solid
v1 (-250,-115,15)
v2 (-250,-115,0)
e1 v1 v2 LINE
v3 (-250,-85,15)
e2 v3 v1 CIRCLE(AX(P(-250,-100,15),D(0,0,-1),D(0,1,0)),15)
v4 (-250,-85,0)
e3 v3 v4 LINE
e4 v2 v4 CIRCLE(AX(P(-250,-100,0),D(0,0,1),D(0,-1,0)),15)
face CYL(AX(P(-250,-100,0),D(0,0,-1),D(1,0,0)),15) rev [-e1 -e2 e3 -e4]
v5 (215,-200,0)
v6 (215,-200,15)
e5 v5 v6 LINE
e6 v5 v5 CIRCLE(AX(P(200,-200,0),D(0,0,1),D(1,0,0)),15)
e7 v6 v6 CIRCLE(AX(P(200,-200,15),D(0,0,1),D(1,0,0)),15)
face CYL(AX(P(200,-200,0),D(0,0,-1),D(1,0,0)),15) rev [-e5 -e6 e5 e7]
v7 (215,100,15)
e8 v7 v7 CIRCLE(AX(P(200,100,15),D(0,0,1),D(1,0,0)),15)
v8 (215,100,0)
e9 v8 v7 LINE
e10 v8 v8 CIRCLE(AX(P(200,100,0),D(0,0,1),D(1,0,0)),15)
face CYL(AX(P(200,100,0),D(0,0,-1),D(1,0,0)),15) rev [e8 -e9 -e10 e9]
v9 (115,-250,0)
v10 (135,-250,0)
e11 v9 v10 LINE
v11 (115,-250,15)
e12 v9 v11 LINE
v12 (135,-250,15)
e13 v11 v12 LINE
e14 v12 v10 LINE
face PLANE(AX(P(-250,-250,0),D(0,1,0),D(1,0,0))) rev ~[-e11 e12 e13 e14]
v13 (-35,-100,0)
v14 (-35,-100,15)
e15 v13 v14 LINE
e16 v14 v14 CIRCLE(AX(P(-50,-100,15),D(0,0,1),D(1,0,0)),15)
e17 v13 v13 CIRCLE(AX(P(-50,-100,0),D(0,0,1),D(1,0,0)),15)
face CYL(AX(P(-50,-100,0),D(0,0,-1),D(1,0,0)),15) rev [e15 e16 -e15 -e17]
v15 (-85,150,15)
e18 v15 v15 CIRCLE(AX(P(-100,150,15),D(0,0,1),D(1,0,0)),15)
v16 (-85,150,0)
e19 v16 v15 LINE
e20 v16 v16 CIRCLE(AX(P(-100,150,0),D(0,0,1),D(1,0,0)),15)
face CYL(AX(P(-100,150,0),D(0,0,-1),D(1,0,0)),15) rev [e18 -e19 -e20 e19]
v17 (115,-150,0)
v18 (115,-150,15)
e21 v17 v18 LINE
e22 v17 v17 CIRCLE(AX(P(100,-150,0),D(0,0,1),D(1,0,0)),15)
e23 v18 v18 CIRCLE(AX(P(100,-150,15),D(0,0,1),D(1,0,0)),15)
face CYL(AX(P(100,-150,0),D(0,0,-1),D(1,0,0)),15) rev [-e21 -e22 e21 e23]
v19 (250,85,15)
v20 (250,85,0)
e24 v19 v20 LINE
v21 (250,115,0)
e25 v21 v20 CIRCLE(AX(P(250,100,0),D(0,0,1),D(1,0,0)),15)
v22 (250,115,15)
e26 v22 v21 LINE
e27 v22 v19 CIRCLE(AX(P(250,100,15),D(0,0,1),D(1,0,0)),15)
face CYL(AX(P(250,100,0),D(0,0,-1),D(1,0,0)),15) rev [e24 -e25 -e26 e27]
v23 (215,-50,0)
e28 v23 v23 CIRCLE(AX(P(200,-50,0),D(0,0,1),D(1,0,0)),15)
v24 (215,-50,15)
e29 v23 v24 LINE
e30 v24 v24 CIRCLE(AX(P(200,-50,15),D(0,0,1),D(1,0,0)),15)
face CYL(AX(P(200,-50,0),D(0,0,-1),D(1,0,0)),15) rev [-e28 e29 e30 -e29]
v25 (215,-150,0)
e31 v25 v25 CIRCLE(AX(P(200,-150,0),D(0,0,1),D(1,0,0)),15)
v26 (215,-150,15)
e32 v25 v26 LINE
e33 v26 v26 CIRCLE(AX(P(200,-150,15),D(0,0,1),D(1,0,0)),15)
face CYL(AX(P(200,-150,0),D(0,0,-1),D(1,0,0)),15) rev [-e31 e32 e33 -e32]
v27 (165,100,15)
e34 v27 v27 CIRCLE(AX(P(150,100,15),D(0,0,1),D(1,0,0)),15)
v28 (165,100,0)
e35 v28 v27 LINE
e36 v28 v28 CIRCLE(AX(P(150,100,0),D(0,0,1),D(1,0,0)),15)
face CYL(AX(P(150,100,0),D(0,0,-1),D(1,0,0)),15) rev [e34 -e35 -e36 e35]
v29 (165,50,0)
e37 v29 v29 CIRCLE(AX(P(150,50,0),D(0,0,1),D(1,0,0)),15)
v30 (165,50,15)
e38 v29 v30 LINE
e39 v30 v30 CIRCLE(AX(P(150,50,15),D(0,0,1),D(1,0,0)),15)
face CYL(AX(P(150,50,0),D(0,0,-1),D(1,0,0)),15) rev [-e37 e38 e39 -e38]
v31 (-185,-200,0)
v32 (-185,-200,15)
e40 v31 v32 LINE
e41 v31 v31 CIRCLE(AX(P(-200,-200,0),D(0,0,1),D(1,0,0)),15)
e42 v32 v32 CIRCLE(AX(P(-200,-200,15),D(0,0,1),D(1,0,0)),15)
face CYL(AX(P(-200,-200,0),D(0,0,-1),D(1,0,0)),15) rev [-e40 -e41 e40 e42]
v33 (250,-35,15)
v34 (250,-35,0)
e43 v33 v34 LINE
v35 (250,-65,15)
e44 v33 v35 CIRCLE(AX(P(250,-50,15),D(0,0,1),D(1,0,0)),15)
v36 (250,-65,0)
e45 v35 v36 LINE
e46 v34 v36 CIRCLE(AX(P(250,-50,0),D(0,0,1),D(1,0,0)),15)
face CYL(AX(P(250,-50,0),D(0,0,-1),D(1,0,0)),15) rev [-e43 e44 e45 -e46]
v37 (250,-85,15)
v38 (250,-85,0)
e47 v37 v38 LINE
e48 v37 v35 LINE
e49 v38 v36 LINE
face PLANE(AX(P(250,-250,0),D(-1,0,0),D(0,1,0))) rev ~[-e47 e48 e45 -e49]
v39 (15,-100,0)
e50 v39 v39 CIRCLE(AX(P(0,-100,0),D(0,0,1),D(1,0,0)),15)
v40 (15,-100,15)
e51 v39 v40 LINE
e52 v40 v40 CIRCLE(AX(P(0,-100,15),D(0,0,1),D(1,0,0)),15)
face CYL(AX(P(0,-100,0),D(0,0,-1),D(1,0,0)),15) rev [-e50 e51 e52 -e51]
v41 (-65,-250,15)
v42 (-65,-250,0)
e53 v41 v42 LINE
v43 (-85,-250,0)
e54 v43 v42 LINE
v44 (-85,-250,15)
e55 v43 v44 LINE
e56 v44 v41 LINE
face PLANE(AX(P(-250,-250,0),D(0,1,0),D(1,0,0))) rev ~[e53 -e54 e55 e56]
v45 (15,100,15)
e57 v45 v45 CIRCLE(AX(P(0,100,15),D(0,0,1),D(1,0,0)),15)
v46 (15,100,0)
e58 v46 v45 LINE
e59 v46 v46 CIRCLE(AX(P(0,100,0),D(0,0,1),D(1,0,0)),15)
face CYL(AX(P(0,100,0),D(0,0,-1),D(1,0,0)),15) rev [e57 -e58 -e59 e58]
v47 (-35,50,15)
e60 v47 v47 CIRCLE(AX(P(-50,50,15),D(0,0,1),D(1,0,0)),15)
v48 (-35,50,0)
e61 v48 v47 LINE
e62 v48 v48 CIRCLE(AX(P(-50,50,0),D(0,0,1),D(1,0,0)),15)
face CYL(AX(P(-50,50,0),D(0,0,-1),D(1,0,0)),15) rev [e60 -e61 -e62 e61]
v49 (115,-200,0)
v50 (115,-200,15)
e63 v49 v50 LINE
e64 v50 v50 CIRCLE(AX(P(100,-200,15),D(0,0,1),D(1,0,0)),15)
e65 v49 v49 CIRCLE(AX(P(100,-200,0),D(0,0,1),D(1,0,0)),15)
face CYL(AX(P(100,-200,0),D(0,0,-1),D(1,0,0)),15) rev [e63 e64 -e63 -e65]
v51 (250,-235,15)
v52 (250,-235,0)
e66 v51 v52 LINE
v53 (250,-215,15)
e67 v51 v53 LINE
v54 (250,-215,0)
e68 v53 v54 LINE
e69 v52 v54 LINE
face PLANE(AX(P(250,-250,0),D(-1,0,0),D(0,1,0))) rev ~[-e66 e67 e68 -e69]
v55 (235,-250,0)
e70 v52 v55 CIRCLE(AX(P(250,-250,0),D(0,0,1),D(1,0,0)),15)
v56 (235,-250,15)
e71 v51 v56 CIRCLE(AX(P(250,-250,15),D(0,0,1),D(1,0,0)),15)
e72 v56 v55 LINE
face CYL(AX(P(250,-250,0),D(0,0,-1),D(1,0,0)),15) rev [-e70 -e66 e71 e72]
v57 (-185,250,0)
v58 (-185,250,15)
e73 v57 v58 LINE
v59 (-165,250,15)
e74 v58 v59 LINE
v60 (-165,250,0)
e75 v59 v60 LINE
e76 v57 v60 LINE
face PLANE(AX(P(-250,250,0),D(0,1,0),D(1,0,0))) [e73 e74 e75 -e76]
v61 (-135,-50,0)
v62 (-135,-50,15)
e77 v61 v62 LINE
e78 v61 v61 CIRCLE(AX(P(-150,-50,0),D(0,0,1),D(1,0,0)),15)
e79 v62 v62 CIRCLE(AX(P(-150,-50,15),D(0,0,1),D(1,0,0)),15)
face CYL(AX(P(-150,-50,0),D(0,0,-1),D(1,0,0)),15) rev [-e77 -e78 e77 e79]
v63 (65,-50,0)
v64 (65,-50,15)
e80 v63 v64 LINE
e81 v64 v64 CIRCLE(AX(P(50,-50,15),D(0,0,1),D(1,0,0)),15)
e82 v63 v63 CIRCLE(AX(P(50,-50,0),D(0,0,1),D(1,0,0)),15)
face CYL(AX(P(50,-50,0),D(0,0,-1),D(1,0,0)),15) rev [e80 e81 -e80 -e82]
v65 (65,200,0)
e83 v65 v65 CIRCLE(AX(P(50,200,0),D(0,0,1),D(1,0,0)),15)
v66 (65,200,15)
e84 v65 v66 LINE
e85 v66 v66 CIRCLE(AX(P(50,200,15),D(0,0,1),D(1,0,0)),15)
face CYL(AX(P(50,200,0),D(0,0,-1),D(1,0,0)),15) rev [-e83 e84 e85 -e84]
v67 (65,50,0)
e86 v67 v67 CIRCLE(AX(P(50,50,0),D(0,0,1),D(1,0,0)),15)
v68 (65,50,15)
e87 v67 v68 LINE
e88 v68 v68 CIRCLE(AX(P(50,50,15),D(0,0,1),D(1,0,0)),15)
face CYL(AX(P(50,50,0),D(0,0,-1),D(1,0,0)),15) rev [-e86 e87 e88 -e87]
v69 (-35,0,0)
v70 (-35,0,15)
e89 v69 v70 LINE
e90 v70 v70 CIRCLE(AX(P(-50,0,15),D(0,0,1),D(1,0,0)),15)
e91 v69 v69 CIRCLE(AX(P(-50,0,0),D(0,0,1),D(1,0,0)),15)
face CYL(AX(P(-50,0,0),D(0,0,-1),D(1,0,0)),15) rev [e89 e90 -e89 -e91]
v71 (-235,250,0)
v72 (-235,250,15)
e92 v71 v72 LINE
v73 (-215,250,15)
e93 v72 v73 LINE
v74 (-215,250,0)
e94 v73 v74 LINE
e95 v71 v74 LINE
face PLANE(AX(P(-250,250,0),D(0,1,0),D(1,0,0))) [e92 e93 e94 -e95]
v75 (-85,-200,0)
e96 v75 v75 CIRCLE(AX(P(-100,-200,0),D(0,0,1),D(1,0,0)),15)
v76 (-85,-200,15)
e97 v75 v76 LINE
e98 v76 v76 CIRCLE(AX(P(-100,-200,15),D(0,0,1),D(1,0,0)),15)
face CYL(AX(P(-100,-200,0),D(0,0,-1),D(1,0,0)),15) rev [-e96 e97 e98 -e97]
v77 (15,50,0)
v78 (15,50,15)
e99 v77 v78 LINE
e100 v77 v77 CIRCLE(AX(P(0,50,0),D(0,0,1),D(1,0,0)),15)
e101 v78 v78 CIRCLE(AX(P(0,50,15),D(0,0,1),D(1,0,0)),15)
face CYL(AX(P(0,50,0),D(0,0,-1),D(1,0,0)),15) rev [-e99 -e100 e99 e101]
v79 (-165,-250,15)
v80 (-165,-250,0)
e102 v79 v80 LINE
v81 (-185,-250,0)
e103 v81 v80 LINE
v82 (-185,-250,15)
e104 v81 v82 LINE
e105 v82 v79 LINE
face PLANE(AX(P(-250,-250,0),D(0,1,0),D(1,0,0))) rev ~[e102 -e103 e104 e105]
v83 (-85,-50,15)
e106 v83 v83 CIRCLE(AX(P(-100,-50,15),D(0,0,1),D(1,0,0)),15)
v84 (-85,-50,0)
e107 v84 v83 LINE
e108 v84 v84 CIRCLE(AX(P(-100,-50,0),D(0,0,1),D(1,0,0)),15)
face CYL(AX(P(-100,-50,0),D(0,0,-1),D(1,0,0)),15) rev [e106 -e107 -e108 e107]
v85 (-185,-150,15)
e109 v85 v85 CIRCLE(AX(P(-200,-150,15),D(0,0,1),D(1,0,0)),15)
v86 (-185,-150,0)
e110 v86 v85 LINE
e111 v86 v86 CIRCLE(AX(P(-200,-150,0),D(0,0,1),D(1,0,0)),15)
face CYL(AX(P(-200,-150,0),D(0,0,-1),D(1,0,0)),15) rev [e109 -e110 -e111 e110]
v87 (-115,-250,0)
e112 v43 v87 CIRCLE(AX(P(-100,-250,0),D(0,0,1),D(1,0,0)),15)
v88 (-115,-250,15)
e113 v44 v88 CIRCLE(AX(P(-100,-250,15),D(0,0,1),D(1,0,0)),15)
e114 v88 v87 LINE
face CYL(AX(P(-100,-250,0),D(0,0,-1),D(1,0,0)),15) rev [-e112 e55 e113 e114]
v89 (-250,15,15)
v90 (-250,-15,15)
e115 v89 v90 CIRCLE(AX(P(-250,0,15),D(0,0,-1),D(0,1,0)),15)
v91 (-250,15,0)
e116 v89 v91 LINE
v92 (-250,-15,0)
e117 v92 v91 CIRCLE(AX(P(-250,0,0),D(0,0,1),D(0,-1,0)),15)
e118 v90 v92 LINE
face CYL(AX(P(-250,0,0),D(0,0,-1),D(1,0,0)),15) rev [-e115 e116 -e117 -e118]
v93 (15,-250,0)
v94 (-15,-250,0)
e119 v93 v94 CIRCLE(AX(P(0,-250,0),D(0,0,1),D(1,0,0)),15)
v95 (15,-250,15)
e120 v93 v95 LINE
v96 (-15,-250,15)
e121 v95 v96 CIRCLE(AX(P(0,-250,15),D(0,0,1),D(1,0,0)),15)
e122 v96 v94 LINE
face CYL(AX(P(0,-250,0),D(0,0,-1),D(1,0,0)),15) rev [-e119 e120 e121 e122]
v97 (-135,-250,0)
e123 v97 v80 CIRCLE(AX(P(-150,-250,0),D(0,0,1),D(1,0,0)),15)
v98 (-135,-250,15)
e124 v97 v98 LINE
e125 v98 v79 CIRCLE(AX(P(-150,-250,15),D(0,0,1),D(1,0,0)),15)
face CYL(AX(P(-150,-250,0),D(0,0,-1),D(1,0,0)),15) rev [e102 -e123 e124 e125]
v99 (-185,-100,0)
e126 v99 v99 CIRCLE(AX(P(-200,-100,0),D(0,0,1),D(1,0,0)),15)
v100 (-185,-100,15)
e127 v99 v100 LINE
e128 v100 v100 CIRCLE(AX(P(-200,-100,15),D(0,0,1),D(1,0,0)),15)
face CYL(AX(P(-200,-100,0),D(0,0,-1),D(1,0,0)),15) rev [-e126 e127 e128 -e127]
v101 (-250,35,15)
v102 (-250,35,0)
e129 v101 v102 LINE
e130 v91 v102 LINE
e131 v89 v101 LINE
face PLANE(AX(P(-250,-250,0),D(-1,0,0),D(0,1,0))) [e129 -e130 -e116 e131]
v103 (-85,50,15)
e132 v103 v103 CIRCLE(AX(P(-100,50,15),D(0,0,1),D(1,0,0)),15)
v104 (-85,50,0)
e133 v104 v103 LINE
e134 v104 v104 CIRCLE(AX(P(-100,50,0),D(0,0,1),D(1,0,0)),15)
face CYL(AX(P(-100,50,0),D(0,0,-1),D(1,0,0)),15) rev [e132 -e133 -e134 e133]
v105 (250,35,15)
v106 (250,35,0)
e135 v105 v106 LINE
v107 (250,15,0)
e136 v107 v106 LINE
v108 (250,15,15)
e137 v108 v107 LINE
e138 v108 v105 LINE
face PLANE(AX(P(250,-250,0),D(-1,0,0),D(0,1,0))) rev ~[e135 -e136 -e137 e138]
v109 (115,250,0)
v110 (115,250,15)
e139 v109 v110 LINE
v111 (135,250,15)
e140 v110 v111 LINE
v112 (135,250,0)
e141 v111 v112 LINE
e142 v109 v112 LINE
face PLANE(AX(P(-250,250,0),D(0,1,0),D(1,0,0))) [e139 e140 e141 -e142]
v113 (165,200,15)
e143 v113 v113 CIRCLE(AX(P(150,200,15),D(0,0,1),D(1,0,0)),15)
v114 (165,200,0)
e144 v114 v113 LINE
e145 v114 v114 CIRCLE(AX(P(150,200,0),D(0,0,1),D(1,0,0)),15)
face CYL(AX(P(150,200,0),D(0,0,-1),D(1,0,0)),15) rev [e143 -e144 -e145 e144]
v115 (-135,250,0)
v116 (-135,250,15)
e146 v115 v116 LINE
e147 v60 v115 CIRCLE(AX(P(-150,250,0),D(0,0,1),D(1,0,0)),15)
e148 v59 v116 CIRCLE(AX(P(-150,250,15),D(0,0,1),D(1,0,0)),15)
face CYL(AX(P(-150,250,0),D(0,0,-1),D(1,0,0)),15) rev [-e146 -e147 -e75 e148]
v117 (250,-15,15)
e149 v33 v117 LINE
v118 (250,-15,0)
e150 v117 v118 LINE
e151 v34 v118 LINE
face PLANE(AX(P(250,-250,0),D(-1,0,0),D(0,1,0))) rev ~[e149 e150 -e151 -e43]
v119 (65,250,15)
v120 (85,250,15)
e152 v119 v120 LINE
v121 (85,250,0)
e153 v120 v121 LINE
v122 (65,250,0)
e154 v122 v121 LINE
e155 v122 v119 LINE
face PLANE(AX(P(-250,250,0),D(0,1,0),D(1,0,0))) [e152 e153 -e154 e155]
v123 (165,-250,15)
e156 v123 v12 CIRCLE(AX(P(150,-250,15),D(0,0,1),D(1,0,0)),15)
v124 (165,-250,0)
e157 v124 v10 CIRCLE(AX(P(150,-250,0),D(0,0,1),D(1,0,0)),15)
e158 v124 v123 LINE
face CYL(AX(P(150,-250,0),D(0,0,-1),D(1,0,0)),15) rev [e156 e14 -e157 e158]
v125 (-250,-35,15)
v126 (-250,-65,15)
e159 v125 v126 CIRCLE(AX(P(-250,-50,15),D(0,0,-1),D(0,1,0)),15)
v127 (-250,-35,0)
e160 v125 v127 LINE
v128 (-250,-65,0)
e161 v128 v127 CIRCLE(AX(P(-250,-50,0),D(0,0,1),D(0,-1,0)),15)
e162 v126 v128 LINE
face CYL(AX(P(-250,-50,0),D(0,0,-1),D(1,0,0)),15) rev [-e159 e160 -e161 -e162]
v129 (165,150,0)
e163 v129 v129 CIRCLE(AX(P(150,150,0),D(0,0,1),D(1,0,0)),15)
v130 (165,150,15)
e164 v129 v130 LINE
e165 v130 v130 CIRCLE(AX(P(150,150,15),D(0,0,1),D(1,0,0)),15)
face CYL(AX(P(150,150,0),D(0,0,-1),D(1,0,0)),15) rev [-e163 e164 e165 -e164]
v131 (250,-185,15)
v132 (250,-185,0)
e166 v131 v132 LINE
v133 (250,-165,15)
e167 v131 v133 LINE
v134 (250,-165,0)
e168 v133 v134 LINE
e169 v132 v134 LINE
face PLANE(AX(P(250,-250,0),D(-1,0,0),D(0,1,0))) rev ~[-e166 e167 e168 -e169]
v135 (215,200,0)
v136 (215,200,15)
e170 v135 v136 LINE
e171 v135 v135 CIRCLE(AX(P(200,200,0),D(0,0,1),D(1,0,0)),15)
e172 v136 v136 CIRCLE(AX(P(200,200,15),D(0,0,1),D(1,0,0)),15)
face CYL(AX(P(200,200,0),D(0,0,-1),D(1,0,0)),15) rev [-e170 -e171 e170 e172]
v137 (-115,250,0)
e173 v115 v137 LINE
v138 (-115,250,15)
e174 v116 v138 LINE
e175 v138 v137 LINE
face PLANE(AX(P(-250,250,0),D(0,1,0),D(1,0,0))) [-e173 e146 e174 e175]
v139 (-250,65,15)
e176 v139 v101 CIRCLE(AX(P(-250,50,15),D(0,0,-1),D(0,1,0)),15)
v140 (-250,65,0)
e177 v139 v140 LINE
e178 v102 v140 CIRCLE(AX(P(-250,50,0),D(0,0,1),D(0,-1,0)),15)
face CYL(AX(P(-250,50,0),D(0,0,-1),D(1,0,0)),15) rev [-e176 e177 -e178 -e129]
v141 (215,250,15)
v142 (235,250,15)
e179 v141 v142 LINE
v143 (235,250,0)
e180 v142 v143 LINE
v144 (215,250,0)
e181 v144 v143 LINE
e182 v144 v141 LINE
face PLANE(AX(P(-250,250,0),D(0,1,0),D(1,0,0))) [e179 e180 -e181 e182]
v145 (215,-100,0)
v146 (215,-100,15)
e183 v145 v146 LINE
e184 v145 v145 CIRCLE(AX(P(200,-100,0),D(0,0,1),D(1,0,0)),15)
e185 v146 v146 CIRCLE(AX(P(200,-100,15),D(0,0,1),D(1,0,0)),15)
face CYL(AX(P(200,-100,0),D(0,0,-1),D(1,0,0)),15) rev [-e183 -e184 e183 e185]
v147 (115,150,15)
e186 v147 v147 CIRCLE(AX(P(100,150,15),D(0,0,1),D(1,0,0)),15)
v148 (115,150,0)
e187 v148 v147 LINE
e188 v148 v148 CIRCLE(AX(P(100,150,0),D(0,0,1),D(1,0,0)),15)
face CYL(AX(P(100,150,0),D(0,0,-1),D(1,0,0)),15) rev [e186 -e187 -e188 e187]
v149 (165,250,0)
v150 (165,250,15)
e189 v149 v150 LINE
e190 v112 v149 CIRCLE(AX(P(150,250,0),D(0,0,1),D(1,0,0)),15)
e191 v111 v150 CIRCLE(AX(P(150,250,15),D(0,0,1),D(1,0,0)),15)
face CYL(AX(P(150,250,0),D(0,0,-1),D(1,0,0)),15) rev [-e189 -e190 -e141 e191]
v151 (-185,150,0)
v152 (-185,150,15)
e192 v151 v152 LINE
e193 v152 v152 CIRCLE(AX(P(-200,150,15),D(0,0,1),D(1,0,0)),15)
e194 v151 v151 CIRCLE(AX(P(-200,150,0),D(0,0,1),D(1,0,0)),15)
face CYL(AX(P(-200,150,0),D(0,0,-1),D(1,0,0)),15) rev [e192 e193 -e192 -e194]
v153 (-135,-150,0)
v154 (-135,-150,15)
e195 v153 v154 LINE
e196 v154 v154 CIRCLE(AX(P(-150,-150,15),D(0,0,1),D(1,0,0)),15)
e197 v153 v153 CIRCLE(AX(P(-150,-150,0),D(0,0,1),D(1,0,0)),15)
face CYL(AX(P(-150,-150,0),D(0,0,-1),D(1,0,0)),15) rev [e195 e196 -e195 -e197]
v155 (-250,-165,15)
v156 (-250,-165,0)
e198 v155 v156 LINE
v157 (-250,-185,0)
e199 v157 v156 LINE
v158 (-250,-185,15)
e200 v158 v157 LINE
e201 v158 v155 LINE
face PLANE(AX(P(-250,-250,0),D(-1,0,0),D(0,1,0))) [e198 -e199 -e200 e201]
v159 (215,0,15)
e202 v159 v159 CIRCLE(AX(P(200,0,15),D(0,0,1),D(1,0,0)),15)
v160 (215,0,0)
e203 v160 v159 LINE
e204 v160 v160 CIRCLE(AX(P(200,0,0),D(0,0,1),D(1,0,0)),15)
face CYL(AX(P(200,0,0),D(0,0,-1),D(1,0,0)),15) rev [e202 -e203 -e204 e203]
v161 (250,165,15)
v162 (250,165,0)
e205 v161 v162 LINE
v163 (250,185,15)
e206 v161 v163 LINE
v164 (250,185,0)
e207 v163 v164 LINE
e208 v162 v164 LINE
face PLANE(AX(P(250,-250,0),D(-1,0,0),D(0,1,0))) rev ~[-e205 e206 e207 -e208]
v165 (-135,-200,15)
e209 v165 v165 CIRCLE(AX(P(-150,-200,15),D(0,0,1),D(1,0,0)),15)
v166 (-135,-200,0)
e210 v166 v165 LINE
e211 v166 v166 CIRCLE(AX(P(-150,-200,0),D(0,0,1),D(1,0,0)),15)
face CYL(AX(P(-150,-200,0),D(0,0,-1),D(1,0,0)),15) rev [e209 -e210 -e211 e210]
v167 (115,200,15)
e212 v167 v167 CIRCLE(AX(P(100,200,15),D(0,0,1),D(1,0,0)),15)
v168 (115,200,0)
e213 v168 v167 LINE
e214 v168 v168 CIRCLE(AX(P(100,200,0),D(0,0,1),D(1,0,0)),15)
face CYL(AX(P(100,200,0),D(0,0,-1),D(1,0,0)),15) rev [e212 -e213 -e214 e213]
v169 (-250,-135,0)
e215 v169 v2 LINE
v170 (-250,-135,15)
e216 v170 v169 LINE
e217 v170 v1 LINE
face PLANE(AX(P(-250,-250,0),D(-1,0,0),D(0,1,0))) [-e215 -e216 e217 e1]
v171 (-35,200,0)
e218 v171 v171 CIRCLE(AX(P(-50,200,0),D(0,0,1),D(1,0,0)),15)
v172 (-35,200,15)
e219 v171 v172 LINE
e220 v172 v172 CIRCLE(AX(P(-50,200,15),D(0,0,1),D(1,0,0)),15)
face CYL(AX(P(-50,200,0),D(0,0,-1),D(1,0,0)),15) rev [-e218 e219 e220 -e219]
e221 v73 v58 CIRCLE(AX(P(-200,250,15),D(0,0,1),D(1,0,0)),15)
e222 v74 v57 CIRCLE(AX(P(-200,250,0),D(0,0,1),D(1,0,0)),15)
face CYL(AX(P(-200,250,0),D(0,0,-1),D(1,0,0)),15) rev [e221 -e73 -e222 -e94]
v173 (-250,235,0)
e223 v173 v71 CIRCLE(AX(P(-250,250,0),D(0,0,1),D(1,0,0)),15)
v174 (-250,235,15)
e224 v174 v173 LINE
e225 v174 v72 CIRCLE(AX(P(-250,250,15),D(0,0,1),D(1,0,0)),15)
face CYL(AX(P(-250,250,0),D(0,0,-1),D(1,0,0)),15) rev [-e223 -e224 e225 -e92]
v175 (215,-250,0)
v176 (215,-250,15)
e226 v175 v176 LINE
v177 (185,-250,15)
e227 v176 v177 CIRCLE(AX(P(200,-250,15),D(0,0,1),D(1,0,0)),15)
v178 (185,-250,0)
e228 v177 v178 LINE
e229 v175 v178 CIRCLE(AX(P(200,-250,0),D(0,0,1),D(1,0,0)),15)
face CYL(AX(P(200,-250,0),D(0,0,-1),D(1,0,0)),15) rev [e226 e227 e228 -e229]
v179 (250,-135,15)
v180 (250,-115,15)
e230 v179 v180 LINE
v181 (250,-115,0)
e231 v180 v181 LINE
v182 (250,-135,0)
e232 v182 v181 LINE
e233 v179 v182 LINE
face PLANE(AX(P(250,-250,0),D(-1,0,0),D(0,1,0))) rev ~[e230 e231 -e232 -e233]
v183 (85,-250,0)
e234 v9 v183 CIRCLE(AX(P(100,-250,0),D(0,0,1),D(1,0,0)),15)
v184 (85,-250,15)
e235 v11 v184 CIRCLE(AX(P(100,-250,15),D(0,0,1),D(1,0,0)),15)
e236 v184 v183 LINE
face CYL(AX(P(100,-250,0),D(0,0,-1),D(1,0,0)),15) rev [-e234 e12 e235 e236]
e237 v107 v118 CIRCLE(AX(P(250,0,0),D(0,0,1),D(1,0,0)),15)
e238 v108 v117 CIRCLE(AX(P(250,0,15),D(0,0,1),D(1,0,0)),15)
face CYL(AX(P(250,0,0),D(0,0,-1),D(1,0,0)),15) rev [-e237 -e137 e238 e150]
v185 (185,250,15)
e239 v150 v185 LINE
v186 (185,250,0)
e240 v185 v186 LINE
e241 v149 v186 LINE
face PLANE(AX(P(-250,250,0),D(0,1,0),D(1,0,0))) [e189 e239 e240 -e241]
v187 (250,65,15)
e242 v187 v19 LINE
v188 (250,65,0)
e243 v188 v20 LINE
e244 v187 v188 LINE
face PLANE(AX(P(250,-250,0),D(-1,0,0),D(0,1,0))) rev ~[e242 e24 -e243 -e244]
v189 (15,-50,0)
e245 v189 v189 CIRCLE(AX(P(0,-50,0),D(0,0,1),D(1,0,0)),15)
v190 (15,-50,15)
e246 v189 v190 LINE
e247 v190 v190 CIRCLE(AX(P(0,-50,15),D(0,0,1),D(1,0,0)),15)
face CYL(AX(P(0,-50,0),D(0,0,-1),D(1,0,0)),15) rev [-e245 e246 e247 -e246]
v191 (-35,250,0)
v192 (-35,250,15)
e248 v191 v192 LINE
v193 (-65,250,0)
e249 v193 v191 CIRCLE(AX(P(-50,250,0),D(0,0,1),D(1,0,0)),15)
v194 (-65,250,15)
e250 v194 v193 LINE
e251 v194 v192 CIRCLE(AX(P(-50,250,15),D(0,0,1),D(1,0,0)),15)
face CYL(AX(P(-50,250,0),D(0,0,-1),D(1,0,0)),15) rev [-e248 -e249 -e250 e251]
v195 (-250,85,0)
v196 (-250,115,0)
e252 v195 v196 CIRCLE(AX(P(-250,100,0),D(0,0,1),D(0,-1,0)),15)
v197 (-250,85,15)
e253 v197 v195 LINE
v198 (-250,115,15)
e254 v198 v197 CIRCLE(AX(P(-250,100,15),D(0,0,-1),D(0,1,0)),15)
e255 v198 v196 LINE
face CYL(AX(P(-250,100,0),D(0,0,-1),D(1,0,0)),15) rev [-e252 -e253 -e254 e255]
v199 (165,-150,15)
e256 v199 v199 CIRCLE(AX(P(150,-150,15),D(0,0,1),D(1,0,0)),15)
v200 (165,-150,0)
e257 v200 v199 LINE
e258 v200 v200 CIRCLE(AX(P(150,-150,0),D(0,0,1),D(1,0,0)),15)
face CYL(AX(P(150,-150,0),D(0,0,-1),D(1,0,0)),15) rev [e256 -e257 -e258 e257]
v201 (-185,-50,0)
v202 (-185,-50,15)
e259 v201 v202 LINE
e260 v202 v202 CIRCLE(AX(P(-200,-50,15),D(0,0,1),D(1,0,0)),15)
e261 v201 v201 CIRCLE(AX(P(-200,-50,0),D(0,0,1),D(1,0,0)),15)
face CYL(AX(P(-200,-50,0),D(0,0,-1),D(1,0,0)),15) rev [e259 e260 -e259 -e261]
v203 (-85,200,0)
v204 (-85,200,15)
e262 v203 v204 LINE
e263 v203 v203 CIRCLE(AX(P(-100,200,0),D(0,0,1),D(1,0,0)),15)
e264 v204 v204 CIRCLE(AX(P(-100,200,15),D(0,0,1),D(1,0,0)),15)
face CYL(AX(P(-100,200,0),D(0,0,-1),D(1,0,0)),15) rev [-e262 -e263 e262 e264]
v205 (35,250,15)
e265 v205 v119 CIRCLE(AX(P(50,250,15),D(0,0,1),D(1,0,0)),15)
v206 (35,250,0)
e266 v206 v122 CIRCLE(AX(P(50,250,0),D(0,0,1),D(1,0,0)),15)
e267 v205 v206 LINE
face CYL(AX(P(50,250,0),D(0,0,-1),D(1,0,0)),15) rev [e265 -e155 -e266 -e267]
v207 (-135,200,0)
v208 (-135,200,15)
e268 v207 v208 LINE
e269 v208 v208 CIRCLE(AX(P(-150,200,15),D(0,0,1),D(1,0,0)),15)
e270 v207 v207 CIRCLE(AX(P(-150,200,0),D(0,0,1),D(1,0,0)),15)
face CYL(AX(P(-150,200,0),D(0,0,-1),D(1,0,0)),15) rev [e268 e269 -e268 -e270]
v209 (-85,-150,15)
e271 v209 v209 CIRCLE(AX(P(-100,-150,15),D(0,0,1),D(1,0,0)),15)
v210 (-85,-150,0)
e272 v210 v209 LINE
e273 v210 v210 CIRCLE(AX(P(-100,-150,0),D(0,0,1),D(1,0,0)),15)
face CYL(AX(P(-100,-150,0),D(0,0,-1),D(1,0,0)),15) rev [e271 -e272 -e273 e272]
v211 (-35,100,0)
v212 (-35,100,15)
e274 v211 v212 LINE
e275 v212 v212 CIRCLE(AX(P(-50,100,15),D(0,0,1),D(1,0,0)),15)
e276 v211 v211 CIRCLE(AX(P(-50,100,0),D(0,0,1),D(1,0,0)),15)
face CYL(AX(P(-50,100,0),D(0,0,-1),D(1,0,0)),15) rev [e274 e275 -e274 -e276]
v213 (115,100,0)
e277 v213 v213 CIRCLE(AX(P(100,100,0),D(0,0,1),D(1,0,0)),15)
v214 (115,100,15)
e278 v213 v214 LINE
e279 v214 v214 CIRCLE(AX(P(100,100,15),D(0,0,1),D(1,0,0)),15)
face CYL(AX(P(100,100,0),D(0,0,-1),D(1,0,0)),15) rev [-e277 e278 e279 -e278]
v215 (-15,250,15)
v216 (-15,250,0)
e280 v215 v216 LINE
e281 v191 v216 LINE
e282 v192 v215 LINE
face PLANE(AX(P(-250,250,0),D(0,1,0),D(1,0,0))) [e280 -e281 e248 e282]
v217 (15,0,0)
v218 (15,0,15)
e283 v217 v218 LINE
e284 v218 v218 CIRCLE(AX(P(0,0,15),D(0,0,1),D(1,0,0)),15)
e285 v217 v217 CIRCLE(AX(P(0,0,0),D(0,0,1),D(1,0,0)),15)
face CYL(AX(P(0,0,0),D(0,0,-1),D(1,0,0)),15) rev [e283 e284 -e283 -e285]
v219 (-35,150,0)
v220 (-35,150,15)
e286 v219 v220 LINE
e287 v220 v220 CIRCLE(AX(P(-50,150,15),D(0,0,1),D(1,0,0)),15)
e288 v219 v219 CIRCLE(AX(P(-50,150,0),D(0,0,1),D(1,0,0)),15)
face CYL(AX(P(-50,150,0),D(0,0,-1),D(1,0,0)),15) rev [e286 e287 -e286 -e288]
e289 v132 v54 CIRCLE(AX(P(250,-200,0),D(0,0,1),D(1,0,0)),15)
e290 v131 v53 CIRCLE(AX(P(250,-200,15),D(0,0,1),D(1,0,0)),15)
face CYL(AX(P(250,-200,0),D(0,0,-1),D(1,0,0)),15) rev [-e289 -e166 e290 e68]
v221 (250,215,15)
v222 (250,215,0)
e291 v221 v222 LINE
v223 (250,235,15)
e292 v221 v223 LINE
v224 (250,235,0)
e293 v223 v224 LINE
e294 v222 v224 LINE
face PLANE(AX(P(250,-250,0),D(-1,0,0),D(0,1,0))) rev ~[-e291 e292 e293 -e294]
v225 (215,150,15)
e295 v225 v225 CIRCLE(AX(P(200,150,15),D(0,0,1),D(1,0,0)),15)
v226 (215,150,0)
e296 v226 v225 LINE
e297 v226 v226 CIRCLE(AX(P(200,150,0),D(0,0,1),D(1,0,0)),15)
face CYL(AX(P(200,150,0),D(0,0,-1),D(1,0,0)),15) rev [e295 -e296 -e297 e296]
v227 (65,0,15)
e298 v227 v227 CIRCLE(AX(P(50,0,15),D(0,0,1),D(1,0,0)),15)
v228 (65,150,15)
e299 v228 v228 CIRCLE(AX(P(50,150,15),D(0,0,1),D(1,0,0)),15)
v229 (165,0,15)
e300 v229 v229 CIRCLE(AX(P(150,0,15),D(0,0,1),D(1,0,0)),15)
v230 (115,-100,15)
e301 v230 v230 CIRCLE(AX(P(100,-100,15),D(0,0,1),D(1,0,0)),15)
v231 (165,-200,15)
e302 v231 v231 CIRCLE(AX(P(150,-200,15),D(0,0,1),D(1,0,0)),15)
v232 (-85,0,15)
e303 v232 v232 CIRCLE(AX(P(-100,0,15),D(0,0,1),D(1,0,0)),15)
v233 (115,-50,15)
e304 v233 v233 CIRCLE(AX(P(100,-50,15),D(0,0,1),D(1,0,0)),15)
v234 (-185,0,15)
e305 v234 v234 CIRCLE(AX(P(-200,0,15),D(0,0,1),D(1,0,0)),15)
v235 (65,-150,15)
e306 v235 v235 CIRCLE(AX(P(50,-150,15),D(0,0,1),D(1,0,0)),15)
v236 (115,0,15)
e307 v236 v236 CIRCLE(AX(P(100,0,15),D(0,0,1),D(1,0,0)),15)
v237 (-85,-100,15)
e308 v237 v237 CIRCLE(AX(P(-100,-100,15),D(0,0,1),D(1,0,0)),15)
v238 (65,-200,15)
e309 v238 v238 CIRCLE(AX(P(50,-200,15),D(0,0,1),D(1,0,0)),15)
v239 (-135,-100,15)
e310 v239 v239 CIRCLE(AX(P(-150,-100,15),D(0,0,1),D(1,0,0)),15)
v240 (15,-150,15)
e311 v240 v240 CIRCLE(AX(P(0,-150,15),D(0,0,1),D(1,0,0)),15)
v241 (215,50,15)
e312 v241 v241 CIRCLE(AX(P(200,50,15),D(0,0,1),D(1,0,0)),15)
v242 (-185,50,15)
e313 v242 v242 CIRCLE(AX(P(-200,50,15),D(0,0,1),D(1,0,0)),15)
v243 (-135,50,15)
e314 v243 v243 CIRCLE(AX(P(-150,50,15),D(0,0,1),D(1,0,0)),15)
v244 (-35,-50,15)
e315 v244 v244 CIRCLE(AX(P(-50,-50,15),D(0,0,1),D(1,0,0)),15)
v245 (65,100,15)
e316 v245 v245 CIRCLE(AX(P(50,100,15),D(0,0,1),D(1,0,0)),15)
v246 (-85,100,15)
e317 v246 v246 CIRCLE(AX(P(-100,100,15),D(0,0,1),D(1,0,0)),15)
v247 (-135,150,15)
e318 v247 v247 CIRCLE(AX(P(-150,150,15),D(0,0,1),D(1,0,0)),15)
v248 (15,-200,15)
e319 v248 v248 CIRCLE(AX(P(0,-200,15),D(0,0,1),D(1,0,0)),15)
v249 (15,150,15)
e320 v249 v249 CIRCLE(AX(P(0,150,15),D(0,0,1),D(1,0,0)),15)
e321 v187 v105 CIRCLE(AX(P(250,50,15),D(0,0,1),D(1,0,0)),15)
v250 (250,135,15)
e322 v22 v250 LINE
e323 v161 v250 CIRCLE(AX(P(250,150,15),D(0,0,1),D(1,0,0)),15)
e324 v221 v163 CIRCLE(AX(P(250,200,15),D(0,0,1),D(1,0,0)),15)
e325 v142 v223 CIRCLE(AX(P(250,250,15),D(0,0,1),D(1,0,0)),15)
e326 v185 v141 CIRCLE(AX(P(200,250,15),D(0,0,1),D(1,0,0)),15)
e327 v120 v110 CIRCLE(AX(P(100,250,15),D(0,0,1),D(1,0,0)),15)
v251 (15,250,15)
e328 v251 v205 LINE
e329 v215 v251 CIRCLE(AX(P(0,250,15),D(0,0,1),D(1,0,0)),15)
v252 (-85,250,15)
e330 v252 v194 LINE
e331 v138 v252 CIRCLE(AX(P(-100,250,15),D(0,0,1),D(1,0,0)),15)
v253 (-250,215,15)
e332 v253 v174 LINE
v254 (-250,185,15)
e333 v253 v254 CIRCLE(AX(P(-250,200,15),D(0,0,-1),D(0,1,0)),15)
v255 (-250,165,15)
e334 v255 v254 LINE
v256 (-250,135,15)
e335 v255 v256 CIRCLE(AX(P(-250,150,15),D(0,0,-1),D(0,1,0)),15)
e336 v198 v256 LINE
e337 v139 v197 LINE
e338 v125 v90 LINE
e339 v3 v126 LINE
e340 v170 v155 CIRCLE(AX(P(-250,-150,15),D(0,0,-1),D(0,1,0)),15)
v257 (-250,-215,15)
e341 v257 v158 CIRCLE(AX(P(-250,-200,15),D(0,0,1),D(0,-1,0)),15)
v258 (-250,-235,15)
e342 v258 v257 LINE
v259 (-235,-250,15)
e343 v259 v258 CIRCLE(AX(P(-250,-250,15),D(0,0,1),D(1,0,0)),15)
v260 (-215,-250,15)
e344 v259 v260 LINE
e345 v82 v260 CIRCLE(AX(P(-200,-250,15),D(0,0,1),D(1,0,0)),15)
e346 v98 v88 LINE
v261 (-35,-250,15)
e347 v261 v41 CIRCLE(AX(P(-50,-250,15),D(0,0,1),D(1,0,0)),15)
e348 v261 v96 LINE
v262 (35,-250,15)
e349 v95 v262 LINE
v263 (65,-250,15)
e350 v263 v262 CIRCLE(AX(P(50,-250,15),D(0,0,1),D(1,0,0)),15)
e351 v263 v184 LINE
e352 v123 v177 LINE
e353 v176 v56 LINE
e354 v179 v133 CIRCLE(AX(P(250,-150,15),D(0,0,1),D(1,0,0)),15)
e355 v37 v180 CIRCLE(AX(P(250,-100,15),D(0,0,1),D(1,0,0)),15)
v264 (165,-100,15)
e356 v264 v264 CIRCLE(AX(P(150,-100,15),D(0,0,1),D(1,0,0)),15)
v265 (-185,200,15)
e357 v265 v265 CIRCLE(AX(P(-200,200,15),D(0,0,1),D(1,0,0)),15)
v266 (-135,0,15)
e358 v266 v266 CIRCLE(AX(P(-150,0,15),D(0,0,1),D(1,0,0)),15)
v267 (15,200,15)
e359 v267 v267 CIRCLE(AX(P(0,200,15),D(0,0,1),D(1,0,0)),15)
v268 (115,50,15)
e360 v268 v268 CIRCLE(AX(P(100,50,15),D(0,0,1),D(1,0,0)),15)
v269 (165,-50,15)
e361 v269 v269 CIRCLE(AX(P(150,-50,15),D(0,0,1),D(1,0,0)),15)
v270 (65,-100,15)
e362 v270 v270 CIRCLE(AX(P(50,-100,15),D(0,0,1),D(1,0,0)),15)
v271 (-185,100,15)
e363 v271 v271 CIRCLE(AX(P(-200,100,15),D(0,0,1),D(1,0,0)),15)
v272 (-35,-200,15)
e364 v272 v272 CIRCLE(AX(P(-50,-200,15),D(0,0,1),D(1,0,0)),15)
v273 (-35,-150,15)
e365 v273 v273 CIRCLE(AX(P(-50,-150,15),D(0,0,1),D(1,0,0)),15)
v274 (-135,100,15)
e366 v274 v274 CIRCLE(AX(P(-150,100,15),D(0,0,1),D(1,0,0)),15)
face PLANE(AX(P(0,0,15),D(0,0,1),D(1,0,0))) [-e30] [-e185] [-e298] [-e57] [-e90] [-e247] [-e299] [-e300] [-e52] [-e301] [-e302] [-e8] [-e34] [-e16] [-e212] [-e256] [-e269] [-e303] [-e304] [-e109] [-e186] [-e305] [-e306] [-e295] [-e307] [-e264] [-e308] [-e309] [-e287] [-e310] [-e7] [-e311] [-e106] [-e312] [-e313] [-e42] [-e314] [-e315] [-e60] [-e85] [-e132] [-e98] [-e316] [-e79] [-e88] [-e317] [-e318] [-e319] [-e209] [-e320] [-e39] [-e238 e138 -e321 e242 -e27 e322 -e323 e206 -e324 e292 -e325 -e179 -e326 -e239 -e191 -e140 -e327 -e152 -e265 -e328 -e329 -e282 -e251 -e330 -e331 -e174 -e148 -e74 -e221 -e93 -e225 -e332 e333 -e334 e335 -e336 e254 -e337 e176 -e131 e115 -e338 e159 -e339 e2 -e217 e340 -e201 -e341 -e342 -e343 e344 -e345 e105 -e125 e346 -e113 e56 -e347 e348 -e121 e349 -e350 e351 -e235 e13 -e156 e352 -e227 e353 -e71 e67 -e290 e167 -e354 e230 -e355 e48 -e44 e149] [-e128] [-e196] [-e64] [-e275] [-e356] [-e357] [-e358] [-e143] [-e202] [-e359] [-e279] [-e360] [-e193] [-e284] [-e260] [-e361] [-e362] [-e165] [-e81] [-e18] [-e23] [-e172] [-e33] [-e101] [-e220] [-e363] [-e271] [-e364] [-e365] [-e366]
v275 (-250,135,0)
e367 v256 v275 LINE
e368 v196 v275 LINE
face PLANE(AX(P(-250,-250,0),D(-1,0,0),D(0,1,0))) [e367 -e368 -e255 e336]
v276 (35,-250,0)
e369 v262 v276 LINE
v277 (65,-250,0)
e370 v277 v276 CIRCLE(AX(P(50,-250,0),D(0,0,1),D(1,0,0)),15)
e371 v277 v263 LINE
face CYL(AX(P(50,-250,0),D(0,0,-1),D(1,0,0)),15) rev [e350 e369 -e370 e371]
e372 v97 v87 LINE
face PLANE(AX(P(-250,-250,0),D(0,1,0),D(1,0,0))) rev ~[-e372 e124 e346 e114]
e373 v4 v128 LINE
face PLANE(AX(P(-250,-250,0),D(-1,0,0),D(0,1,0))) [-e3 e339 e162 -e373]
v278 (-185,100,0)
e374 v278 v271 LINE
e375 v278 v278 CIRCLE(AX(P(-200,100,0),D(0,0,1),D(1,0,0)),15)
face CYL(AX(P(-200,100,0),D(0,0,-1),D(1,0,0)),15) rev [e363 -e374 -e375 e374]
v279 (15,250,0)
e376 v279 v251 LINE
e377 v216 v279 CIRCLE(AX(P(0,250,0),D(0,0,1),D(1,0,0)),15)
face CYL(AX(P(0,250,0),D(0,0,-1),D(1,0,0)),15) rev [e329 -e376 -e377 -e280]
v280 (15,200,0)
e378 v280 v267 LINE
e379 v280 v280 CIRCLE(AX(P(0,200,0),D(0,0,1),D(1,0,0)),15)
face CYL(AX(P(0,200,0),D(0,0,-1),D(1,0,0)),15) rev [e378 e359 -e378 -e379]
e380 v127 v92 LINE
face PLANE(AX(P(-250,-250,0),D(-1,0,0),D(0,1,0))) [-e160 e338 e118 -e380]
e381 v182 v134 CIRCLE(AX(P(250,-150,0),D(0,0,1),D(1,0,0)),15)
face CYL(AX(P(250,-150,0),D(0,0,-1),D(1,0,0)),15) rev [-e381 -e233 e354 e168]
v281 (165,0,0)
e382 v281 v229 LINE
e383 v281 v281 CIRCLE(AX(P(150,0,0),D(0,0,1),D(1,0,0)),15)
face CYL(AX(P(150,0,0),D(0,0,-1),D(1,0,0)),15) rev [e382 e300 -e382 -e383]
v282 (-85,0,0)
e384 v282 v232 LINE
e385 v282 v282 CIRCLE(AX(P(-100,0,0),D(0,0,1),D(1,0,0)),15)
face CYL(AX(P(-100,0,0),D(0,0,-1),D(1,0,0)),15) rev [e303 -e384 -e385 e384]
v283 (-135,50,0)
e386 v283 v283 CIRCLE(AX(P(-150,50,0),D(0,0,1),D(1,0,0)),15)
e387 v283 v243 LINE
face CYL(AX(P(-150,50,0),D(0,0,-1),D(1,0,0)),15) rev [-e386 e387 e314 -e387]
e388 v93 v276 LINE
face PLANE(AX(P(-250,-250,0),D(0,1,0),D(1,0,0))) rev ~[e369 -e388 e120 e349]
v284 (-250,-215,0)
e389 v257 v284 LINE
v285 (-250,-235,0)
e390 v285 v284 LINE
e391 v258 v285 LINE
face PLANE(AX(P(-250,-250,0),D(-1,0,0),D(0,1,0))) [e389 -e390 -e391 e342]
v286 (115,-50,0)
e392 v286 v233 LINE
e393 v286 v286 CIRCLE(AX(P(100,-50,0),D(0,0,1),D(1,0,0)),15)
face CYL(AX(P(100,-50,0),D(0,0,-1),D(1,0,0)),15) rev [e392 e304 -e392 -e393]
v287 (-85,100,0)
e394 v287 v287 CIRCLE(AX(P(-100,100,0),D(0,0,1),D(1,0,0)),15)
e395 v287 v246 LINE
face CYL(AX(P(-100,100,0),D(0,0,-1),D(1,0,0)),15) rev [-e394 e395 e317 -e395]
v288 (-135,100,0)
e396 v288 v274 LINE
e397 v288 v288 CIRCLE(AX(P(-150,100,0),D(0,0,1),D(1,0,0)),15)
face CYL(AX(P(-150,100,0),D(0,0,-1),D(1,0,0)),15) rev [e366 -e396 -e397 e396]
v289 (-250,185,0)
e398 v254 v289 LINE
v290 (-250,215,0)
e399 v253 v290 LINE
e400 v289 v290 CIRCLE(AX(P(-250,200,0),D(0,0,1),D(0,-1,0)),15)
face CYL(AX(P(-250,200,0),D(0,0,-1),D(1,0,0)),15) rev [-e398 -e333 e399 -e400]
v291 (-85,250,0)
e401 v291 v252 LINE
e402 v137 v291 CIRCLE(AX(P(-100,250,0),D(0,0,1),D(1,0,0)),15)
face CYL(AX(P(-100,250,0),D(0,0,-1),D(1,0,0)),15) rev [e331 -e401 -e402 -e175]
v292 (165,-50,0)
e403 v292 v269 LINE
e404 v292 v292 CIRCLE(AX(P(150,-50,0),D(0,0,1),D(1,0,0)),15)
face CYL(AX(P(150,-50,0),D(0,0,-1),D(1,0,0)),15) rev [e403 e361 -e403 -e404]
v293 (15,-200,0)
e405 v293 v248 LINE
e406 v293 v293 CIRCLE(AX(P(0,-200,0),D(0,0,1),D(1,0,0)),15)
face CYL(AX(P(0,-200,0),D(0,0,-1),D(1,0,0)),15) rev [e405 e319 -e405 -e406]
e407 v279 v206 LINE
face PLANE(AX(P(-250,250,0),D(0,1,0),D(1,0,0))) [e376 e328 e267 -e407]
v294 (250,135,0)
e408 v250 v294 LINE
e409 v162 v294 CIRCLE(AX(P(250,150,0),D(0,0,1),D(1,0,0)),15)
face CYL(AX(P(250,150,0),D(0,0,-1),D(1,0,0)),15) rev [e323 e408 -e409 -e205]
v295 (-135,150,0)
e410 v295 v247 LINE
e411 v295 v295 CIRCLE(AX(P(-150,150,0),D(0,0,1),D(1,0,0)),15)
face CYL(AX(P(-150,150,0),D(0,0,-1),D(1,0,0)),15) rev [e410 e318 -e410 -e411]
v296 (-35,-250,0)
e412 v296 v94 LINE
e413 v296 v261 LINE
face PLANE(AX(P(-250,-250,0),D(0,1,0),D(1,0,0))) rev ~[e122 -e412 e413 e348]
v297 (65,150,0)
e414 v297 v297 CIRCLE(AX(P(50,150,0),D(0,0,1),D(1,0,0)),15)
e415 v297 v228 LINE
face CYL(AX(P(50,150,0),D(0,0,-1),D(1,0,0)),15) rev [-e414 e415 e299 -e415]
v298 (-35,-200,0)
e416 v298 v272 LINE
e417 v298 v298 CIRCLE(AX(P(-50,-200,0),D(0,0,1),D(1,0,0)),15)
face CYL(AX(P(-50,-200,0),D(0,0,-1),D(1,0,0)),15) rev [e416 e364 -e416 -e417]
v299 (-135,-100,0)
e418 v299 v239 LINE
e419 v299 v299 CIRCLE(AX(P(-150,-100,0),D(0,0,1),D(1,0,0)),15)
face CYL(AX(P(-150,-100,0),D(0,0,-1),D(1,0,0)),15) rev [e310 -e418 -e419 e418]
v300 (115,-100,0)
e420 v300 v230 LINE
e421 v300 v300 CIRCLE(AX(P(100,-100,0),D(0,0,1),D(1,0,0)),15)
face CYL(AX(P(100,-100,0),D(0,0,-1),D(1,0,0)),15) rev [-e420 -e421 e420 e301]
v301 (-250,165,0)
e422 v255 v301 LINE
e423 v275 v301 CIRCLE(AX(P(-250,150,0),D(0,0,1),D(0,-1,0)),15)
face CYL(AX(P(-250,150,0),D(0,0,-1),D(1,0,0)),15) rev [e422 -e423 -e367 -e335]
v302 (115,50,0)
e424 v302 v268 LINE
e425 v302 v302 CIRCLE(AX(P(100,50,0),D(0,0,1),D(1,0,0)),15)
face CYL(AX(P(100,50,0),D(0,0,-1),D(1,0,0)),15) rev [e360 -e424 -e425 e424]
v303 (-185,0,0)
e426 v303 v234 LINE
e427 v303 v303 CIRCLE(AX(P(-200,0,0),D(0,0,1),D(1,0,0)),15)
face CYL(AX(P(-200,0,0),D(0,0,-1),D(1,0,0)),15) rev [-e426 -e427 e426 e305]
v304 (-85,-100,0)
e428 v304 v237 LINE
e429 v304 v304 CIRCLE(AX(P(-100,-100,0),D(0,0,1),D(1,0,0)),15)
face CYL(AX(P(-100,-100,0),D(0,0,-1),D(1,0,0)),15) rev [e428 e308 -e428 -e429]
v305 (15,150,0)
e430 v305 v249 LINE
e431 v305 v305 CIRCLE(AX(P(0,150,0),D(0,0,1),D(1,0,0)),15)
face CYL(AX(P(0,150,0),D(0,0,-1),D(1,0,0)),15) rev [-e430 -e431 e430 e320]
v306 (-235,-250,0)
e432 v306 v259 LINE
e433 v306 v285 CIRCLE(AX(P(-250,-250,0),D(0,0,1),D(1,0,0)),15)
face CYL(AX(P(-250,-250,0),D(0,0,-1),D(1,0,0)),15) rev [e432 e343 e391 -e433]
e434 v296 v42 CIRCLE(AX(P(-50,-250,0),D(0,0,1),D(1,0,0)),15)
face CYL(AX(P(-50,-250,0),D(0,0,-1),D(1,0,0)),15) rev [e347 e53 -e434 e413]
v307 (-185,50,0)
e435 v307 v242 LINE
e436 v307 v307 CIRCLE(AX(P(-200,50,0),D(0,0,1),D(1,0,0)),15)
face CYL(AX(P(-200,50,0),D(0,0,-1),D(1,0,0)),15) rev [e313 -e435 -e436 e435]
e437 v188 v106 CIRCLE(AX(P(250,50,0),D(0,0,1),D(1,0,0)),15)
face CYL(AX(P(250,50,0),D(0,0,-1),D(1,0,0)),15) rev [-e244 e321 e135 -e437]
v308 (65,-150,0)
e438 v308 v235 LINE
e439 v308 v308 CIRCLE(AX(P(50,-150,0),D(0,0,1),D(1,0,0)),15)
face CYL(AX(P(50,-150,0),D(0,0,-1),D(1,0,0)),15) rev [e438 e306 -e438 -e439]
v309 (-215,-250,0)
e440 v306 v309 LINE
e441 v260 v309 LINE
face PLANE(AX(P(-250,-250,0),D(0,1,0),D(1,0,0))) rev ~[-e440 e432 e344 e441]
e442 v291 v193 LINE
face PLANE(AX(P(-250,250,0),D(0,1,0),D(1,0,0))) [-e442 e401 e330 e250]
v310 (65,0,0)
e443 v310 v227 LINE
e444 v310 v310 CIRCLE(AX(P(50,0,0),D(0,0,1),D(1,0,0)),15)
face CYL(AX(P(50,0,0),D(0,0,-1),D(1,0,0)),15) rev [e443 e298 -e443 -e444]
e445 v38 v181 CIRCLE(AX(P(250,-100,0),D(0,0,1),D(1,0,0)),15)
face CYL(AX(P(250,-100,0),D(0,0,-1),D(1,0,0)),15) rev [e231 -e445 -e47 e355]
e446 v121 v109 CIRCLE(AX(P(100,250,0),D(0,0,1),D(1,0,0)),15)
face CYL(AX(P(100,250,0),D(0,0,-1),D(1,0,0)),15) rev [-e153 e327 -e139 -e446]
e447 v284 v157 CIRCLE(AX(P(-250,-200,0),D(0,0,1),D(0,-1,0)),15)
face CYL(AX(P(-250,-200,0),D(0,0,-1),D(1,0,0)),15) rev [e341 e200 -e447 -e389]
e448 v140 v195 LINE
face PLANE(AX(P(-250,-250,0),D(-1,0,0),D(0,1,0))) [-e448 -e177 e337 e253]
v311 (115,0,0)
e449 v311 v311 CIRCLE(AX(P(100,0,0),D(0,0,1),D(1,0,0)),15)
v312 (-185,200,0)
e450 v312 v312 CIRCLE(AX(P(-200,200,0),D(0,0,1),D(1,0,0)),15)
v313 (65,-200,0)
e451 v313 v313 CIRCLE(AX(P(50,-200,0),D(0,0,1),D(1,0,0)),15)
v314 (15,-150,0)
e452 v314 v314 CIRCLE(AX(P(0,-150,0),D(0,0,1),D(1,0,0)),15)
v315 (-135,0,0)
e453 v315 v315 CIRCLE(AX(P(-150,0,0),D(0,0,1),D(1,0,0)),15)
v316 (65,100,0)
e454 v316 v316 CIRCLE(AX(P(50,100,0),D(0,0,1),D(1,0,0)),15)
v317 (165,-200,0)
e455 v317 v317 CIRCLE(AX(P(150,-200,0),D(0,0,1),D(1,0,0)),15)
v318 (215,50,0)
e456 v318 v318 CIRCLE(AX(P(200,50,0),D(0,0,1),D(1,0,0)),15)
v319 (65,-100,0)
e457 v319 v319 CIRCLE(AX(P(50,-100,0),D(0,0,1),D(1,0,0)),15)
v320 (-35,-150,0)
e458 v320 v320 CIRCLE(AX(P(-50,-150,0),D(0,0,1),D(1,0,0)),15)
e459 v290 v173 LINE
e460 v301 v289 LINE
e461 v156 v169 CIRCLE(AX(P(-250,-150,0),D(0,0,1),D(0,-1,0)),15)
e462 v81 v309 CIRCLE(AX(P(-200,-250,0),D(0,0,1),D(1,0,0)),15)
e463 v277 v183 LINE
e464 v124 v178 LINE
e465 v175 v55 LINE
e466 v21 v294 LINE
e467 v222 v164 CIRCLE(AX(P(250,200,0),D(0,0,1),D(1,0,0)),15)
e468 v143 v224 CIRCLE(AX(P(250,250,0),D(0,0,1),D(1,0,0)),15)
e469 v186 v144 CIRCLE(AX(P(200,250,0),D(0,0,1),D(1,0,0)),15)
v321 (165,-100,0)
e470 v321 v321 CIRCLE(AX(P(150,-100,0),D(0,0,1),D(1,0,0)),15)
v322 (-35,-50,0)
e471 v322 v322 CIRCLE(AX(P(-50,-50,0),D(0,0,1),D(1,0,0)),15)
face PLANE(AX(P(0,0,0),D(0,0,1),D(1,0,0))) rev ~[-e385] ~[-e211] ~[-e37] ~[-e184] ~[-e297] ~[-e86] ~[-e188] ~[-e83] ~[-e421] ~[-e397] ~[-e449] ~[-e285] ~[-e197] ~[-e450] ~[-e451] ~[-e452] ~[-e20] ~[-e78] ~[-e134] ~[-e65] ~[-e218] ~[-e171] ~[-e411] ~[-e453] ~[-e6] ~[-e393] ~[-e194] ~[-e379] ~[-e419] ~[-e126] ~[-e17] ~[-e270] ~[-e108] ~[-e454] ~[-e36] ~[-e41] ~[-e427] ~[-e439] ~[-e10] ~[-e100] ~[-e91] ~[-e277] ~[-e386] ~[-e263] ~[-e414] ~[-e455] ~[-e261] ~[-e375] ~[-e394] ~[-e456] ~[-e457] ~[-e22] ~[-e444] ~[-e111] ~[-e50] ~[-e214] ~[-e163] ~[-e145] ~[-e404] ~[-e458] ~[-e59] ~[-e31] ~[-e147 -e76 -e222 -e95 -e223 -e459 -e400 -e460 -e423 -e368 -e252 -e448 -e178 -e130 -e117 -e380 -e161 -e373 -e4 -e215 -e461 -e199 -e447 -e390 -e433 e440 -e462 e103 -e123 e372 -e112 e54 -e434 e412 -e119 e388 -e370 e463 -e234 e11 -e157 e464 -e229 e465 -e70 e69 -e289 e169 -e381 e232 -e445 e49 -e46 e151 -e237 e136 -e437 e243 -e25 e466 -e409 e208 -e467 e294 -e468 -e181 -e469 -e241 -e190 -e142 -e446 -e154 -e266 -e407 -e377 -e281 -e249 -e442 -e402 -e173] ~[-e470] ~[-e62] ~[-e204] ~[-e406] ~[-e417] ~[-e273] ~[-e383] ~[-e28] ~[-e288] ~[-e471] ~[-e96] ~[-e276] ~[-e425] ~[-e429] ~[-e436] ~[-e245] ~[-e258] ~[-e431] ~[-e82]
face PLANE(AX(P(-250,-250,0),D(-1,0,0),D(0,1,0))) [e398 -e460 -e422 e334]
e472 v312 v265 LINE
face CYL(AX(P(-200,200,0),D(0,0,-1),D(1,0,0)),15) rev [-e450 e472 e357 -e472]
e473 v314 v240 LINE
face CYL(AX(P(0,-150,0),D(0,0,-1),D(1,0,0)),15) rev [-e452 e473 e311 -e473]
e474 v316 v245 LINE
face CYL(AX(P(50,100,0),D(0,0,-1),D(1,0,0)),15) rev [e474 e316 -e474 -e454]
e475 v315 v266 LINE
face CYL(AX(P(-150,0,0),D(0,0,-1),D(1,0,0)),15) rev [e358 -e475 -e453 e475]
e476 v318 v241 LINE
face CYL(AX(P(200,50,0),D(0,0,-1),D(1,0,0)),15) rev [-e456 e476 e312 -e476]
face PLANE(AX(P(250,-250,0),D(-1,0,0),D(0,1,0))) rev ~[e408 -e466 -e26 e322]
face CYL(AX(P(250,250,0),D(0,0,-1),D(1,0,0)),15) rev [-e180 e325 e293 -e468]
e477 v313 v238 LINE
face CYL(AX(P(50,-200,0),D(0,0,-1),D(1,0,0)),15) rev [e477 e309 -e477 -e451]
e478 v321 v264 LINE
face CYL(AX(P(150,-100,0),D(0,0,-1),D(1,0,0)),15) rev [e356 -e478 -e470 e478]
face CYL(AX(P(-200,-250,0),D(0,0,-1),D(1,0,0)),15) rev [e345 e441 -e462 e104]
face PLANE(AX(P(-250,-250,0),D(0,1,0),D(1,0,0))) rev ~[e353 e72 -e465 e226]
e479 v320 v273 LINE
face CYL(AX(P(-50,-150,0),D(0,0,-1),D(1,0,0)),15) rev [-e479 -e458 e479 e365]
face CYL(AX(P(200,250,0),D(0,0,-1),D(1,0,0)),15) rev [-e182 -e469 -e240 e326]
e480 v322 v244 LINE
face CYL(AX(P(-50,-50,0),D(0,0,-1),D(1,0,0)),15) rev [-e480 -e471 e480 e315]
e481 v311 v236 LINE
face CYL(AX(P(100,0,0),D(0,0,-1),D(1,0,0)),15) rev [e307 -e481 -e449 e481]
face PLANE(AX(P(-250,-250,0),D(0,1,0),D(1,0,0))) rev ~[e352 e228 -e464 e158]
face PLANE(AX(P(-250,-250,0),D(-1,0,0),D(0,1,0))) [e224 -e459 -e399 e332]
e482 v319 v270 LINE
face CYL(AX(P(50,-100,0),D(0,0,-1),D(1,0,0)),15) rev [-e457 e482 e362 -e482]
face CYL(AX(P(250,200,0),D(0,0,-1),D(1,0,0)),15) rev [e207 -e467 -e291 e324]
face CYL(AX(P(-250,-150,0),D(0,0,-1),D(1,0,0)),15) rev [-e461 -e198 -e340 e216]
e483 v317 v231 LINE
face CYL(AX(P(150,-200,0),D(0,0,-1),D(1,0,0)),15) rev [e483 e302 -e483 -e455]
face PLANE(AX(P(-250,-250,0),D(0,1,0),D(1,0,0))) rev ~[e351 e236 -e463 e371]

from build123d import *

# Parameters (mm, degrees)
SZKIC1_W                    = 500
SZKIC1_H                    = 500
DODANIE_WYCI_GNI_CIE1_DEPTH = 15
SZKIC2_R                    = 15
WYTNIJ_WYCI_GNI_CIE1_DEPTH  = 15
SZYK_LINIOWY1_COUNT         = 11
SZYK_LINIOWY1_PITCH         = 50
SZYK_LINIOWY1_COUNT_DIR2    = 11
SZYK_LINIOWY1_PITCH_DIR2    = 50


with BuildPart() as part:
    # Szkic1 → Dodanie-wyciągnięcie1 (new body)
    with BuildSketch(Plane.XY):
        Rectangle(SZKIC1_W, SZKIC1_H)
    extrude(amount=DODANIE_WYCI_GNI_CIE1_DEPTH)

    # Szkic2 → Wytnij-wyciągnięcie1 (cut)
    with BuildSketch(Plane.XY):
        with Locations((-250, 250)):
            Circle(SZKIC2_R)
    wytnij_wyci_gni_cie1 = extrude(amount=WYTNIJ_WYCI_GNI_CIE1_DEPTH, mode=Mode.SUBTRACT)

    # Szyk liniowy1: Wytnij-wyci_gni_cie1 11 × 11
    with Locations(*[(i * SZYK_LINIOWY1_PITCH, -j * SZYK_LINIOWY1_PITCH_DIR2, 0) for i in range(SZYK_LINIOWY1_COUNT) for j in range(SZYK_LINIOWY1_COUNT_DIR2) if (i, j) != (0, 0)]):
        add(wytnij_wyci_gni_cie1, mode=Mode.SUBTRACT)


solid = part.part
